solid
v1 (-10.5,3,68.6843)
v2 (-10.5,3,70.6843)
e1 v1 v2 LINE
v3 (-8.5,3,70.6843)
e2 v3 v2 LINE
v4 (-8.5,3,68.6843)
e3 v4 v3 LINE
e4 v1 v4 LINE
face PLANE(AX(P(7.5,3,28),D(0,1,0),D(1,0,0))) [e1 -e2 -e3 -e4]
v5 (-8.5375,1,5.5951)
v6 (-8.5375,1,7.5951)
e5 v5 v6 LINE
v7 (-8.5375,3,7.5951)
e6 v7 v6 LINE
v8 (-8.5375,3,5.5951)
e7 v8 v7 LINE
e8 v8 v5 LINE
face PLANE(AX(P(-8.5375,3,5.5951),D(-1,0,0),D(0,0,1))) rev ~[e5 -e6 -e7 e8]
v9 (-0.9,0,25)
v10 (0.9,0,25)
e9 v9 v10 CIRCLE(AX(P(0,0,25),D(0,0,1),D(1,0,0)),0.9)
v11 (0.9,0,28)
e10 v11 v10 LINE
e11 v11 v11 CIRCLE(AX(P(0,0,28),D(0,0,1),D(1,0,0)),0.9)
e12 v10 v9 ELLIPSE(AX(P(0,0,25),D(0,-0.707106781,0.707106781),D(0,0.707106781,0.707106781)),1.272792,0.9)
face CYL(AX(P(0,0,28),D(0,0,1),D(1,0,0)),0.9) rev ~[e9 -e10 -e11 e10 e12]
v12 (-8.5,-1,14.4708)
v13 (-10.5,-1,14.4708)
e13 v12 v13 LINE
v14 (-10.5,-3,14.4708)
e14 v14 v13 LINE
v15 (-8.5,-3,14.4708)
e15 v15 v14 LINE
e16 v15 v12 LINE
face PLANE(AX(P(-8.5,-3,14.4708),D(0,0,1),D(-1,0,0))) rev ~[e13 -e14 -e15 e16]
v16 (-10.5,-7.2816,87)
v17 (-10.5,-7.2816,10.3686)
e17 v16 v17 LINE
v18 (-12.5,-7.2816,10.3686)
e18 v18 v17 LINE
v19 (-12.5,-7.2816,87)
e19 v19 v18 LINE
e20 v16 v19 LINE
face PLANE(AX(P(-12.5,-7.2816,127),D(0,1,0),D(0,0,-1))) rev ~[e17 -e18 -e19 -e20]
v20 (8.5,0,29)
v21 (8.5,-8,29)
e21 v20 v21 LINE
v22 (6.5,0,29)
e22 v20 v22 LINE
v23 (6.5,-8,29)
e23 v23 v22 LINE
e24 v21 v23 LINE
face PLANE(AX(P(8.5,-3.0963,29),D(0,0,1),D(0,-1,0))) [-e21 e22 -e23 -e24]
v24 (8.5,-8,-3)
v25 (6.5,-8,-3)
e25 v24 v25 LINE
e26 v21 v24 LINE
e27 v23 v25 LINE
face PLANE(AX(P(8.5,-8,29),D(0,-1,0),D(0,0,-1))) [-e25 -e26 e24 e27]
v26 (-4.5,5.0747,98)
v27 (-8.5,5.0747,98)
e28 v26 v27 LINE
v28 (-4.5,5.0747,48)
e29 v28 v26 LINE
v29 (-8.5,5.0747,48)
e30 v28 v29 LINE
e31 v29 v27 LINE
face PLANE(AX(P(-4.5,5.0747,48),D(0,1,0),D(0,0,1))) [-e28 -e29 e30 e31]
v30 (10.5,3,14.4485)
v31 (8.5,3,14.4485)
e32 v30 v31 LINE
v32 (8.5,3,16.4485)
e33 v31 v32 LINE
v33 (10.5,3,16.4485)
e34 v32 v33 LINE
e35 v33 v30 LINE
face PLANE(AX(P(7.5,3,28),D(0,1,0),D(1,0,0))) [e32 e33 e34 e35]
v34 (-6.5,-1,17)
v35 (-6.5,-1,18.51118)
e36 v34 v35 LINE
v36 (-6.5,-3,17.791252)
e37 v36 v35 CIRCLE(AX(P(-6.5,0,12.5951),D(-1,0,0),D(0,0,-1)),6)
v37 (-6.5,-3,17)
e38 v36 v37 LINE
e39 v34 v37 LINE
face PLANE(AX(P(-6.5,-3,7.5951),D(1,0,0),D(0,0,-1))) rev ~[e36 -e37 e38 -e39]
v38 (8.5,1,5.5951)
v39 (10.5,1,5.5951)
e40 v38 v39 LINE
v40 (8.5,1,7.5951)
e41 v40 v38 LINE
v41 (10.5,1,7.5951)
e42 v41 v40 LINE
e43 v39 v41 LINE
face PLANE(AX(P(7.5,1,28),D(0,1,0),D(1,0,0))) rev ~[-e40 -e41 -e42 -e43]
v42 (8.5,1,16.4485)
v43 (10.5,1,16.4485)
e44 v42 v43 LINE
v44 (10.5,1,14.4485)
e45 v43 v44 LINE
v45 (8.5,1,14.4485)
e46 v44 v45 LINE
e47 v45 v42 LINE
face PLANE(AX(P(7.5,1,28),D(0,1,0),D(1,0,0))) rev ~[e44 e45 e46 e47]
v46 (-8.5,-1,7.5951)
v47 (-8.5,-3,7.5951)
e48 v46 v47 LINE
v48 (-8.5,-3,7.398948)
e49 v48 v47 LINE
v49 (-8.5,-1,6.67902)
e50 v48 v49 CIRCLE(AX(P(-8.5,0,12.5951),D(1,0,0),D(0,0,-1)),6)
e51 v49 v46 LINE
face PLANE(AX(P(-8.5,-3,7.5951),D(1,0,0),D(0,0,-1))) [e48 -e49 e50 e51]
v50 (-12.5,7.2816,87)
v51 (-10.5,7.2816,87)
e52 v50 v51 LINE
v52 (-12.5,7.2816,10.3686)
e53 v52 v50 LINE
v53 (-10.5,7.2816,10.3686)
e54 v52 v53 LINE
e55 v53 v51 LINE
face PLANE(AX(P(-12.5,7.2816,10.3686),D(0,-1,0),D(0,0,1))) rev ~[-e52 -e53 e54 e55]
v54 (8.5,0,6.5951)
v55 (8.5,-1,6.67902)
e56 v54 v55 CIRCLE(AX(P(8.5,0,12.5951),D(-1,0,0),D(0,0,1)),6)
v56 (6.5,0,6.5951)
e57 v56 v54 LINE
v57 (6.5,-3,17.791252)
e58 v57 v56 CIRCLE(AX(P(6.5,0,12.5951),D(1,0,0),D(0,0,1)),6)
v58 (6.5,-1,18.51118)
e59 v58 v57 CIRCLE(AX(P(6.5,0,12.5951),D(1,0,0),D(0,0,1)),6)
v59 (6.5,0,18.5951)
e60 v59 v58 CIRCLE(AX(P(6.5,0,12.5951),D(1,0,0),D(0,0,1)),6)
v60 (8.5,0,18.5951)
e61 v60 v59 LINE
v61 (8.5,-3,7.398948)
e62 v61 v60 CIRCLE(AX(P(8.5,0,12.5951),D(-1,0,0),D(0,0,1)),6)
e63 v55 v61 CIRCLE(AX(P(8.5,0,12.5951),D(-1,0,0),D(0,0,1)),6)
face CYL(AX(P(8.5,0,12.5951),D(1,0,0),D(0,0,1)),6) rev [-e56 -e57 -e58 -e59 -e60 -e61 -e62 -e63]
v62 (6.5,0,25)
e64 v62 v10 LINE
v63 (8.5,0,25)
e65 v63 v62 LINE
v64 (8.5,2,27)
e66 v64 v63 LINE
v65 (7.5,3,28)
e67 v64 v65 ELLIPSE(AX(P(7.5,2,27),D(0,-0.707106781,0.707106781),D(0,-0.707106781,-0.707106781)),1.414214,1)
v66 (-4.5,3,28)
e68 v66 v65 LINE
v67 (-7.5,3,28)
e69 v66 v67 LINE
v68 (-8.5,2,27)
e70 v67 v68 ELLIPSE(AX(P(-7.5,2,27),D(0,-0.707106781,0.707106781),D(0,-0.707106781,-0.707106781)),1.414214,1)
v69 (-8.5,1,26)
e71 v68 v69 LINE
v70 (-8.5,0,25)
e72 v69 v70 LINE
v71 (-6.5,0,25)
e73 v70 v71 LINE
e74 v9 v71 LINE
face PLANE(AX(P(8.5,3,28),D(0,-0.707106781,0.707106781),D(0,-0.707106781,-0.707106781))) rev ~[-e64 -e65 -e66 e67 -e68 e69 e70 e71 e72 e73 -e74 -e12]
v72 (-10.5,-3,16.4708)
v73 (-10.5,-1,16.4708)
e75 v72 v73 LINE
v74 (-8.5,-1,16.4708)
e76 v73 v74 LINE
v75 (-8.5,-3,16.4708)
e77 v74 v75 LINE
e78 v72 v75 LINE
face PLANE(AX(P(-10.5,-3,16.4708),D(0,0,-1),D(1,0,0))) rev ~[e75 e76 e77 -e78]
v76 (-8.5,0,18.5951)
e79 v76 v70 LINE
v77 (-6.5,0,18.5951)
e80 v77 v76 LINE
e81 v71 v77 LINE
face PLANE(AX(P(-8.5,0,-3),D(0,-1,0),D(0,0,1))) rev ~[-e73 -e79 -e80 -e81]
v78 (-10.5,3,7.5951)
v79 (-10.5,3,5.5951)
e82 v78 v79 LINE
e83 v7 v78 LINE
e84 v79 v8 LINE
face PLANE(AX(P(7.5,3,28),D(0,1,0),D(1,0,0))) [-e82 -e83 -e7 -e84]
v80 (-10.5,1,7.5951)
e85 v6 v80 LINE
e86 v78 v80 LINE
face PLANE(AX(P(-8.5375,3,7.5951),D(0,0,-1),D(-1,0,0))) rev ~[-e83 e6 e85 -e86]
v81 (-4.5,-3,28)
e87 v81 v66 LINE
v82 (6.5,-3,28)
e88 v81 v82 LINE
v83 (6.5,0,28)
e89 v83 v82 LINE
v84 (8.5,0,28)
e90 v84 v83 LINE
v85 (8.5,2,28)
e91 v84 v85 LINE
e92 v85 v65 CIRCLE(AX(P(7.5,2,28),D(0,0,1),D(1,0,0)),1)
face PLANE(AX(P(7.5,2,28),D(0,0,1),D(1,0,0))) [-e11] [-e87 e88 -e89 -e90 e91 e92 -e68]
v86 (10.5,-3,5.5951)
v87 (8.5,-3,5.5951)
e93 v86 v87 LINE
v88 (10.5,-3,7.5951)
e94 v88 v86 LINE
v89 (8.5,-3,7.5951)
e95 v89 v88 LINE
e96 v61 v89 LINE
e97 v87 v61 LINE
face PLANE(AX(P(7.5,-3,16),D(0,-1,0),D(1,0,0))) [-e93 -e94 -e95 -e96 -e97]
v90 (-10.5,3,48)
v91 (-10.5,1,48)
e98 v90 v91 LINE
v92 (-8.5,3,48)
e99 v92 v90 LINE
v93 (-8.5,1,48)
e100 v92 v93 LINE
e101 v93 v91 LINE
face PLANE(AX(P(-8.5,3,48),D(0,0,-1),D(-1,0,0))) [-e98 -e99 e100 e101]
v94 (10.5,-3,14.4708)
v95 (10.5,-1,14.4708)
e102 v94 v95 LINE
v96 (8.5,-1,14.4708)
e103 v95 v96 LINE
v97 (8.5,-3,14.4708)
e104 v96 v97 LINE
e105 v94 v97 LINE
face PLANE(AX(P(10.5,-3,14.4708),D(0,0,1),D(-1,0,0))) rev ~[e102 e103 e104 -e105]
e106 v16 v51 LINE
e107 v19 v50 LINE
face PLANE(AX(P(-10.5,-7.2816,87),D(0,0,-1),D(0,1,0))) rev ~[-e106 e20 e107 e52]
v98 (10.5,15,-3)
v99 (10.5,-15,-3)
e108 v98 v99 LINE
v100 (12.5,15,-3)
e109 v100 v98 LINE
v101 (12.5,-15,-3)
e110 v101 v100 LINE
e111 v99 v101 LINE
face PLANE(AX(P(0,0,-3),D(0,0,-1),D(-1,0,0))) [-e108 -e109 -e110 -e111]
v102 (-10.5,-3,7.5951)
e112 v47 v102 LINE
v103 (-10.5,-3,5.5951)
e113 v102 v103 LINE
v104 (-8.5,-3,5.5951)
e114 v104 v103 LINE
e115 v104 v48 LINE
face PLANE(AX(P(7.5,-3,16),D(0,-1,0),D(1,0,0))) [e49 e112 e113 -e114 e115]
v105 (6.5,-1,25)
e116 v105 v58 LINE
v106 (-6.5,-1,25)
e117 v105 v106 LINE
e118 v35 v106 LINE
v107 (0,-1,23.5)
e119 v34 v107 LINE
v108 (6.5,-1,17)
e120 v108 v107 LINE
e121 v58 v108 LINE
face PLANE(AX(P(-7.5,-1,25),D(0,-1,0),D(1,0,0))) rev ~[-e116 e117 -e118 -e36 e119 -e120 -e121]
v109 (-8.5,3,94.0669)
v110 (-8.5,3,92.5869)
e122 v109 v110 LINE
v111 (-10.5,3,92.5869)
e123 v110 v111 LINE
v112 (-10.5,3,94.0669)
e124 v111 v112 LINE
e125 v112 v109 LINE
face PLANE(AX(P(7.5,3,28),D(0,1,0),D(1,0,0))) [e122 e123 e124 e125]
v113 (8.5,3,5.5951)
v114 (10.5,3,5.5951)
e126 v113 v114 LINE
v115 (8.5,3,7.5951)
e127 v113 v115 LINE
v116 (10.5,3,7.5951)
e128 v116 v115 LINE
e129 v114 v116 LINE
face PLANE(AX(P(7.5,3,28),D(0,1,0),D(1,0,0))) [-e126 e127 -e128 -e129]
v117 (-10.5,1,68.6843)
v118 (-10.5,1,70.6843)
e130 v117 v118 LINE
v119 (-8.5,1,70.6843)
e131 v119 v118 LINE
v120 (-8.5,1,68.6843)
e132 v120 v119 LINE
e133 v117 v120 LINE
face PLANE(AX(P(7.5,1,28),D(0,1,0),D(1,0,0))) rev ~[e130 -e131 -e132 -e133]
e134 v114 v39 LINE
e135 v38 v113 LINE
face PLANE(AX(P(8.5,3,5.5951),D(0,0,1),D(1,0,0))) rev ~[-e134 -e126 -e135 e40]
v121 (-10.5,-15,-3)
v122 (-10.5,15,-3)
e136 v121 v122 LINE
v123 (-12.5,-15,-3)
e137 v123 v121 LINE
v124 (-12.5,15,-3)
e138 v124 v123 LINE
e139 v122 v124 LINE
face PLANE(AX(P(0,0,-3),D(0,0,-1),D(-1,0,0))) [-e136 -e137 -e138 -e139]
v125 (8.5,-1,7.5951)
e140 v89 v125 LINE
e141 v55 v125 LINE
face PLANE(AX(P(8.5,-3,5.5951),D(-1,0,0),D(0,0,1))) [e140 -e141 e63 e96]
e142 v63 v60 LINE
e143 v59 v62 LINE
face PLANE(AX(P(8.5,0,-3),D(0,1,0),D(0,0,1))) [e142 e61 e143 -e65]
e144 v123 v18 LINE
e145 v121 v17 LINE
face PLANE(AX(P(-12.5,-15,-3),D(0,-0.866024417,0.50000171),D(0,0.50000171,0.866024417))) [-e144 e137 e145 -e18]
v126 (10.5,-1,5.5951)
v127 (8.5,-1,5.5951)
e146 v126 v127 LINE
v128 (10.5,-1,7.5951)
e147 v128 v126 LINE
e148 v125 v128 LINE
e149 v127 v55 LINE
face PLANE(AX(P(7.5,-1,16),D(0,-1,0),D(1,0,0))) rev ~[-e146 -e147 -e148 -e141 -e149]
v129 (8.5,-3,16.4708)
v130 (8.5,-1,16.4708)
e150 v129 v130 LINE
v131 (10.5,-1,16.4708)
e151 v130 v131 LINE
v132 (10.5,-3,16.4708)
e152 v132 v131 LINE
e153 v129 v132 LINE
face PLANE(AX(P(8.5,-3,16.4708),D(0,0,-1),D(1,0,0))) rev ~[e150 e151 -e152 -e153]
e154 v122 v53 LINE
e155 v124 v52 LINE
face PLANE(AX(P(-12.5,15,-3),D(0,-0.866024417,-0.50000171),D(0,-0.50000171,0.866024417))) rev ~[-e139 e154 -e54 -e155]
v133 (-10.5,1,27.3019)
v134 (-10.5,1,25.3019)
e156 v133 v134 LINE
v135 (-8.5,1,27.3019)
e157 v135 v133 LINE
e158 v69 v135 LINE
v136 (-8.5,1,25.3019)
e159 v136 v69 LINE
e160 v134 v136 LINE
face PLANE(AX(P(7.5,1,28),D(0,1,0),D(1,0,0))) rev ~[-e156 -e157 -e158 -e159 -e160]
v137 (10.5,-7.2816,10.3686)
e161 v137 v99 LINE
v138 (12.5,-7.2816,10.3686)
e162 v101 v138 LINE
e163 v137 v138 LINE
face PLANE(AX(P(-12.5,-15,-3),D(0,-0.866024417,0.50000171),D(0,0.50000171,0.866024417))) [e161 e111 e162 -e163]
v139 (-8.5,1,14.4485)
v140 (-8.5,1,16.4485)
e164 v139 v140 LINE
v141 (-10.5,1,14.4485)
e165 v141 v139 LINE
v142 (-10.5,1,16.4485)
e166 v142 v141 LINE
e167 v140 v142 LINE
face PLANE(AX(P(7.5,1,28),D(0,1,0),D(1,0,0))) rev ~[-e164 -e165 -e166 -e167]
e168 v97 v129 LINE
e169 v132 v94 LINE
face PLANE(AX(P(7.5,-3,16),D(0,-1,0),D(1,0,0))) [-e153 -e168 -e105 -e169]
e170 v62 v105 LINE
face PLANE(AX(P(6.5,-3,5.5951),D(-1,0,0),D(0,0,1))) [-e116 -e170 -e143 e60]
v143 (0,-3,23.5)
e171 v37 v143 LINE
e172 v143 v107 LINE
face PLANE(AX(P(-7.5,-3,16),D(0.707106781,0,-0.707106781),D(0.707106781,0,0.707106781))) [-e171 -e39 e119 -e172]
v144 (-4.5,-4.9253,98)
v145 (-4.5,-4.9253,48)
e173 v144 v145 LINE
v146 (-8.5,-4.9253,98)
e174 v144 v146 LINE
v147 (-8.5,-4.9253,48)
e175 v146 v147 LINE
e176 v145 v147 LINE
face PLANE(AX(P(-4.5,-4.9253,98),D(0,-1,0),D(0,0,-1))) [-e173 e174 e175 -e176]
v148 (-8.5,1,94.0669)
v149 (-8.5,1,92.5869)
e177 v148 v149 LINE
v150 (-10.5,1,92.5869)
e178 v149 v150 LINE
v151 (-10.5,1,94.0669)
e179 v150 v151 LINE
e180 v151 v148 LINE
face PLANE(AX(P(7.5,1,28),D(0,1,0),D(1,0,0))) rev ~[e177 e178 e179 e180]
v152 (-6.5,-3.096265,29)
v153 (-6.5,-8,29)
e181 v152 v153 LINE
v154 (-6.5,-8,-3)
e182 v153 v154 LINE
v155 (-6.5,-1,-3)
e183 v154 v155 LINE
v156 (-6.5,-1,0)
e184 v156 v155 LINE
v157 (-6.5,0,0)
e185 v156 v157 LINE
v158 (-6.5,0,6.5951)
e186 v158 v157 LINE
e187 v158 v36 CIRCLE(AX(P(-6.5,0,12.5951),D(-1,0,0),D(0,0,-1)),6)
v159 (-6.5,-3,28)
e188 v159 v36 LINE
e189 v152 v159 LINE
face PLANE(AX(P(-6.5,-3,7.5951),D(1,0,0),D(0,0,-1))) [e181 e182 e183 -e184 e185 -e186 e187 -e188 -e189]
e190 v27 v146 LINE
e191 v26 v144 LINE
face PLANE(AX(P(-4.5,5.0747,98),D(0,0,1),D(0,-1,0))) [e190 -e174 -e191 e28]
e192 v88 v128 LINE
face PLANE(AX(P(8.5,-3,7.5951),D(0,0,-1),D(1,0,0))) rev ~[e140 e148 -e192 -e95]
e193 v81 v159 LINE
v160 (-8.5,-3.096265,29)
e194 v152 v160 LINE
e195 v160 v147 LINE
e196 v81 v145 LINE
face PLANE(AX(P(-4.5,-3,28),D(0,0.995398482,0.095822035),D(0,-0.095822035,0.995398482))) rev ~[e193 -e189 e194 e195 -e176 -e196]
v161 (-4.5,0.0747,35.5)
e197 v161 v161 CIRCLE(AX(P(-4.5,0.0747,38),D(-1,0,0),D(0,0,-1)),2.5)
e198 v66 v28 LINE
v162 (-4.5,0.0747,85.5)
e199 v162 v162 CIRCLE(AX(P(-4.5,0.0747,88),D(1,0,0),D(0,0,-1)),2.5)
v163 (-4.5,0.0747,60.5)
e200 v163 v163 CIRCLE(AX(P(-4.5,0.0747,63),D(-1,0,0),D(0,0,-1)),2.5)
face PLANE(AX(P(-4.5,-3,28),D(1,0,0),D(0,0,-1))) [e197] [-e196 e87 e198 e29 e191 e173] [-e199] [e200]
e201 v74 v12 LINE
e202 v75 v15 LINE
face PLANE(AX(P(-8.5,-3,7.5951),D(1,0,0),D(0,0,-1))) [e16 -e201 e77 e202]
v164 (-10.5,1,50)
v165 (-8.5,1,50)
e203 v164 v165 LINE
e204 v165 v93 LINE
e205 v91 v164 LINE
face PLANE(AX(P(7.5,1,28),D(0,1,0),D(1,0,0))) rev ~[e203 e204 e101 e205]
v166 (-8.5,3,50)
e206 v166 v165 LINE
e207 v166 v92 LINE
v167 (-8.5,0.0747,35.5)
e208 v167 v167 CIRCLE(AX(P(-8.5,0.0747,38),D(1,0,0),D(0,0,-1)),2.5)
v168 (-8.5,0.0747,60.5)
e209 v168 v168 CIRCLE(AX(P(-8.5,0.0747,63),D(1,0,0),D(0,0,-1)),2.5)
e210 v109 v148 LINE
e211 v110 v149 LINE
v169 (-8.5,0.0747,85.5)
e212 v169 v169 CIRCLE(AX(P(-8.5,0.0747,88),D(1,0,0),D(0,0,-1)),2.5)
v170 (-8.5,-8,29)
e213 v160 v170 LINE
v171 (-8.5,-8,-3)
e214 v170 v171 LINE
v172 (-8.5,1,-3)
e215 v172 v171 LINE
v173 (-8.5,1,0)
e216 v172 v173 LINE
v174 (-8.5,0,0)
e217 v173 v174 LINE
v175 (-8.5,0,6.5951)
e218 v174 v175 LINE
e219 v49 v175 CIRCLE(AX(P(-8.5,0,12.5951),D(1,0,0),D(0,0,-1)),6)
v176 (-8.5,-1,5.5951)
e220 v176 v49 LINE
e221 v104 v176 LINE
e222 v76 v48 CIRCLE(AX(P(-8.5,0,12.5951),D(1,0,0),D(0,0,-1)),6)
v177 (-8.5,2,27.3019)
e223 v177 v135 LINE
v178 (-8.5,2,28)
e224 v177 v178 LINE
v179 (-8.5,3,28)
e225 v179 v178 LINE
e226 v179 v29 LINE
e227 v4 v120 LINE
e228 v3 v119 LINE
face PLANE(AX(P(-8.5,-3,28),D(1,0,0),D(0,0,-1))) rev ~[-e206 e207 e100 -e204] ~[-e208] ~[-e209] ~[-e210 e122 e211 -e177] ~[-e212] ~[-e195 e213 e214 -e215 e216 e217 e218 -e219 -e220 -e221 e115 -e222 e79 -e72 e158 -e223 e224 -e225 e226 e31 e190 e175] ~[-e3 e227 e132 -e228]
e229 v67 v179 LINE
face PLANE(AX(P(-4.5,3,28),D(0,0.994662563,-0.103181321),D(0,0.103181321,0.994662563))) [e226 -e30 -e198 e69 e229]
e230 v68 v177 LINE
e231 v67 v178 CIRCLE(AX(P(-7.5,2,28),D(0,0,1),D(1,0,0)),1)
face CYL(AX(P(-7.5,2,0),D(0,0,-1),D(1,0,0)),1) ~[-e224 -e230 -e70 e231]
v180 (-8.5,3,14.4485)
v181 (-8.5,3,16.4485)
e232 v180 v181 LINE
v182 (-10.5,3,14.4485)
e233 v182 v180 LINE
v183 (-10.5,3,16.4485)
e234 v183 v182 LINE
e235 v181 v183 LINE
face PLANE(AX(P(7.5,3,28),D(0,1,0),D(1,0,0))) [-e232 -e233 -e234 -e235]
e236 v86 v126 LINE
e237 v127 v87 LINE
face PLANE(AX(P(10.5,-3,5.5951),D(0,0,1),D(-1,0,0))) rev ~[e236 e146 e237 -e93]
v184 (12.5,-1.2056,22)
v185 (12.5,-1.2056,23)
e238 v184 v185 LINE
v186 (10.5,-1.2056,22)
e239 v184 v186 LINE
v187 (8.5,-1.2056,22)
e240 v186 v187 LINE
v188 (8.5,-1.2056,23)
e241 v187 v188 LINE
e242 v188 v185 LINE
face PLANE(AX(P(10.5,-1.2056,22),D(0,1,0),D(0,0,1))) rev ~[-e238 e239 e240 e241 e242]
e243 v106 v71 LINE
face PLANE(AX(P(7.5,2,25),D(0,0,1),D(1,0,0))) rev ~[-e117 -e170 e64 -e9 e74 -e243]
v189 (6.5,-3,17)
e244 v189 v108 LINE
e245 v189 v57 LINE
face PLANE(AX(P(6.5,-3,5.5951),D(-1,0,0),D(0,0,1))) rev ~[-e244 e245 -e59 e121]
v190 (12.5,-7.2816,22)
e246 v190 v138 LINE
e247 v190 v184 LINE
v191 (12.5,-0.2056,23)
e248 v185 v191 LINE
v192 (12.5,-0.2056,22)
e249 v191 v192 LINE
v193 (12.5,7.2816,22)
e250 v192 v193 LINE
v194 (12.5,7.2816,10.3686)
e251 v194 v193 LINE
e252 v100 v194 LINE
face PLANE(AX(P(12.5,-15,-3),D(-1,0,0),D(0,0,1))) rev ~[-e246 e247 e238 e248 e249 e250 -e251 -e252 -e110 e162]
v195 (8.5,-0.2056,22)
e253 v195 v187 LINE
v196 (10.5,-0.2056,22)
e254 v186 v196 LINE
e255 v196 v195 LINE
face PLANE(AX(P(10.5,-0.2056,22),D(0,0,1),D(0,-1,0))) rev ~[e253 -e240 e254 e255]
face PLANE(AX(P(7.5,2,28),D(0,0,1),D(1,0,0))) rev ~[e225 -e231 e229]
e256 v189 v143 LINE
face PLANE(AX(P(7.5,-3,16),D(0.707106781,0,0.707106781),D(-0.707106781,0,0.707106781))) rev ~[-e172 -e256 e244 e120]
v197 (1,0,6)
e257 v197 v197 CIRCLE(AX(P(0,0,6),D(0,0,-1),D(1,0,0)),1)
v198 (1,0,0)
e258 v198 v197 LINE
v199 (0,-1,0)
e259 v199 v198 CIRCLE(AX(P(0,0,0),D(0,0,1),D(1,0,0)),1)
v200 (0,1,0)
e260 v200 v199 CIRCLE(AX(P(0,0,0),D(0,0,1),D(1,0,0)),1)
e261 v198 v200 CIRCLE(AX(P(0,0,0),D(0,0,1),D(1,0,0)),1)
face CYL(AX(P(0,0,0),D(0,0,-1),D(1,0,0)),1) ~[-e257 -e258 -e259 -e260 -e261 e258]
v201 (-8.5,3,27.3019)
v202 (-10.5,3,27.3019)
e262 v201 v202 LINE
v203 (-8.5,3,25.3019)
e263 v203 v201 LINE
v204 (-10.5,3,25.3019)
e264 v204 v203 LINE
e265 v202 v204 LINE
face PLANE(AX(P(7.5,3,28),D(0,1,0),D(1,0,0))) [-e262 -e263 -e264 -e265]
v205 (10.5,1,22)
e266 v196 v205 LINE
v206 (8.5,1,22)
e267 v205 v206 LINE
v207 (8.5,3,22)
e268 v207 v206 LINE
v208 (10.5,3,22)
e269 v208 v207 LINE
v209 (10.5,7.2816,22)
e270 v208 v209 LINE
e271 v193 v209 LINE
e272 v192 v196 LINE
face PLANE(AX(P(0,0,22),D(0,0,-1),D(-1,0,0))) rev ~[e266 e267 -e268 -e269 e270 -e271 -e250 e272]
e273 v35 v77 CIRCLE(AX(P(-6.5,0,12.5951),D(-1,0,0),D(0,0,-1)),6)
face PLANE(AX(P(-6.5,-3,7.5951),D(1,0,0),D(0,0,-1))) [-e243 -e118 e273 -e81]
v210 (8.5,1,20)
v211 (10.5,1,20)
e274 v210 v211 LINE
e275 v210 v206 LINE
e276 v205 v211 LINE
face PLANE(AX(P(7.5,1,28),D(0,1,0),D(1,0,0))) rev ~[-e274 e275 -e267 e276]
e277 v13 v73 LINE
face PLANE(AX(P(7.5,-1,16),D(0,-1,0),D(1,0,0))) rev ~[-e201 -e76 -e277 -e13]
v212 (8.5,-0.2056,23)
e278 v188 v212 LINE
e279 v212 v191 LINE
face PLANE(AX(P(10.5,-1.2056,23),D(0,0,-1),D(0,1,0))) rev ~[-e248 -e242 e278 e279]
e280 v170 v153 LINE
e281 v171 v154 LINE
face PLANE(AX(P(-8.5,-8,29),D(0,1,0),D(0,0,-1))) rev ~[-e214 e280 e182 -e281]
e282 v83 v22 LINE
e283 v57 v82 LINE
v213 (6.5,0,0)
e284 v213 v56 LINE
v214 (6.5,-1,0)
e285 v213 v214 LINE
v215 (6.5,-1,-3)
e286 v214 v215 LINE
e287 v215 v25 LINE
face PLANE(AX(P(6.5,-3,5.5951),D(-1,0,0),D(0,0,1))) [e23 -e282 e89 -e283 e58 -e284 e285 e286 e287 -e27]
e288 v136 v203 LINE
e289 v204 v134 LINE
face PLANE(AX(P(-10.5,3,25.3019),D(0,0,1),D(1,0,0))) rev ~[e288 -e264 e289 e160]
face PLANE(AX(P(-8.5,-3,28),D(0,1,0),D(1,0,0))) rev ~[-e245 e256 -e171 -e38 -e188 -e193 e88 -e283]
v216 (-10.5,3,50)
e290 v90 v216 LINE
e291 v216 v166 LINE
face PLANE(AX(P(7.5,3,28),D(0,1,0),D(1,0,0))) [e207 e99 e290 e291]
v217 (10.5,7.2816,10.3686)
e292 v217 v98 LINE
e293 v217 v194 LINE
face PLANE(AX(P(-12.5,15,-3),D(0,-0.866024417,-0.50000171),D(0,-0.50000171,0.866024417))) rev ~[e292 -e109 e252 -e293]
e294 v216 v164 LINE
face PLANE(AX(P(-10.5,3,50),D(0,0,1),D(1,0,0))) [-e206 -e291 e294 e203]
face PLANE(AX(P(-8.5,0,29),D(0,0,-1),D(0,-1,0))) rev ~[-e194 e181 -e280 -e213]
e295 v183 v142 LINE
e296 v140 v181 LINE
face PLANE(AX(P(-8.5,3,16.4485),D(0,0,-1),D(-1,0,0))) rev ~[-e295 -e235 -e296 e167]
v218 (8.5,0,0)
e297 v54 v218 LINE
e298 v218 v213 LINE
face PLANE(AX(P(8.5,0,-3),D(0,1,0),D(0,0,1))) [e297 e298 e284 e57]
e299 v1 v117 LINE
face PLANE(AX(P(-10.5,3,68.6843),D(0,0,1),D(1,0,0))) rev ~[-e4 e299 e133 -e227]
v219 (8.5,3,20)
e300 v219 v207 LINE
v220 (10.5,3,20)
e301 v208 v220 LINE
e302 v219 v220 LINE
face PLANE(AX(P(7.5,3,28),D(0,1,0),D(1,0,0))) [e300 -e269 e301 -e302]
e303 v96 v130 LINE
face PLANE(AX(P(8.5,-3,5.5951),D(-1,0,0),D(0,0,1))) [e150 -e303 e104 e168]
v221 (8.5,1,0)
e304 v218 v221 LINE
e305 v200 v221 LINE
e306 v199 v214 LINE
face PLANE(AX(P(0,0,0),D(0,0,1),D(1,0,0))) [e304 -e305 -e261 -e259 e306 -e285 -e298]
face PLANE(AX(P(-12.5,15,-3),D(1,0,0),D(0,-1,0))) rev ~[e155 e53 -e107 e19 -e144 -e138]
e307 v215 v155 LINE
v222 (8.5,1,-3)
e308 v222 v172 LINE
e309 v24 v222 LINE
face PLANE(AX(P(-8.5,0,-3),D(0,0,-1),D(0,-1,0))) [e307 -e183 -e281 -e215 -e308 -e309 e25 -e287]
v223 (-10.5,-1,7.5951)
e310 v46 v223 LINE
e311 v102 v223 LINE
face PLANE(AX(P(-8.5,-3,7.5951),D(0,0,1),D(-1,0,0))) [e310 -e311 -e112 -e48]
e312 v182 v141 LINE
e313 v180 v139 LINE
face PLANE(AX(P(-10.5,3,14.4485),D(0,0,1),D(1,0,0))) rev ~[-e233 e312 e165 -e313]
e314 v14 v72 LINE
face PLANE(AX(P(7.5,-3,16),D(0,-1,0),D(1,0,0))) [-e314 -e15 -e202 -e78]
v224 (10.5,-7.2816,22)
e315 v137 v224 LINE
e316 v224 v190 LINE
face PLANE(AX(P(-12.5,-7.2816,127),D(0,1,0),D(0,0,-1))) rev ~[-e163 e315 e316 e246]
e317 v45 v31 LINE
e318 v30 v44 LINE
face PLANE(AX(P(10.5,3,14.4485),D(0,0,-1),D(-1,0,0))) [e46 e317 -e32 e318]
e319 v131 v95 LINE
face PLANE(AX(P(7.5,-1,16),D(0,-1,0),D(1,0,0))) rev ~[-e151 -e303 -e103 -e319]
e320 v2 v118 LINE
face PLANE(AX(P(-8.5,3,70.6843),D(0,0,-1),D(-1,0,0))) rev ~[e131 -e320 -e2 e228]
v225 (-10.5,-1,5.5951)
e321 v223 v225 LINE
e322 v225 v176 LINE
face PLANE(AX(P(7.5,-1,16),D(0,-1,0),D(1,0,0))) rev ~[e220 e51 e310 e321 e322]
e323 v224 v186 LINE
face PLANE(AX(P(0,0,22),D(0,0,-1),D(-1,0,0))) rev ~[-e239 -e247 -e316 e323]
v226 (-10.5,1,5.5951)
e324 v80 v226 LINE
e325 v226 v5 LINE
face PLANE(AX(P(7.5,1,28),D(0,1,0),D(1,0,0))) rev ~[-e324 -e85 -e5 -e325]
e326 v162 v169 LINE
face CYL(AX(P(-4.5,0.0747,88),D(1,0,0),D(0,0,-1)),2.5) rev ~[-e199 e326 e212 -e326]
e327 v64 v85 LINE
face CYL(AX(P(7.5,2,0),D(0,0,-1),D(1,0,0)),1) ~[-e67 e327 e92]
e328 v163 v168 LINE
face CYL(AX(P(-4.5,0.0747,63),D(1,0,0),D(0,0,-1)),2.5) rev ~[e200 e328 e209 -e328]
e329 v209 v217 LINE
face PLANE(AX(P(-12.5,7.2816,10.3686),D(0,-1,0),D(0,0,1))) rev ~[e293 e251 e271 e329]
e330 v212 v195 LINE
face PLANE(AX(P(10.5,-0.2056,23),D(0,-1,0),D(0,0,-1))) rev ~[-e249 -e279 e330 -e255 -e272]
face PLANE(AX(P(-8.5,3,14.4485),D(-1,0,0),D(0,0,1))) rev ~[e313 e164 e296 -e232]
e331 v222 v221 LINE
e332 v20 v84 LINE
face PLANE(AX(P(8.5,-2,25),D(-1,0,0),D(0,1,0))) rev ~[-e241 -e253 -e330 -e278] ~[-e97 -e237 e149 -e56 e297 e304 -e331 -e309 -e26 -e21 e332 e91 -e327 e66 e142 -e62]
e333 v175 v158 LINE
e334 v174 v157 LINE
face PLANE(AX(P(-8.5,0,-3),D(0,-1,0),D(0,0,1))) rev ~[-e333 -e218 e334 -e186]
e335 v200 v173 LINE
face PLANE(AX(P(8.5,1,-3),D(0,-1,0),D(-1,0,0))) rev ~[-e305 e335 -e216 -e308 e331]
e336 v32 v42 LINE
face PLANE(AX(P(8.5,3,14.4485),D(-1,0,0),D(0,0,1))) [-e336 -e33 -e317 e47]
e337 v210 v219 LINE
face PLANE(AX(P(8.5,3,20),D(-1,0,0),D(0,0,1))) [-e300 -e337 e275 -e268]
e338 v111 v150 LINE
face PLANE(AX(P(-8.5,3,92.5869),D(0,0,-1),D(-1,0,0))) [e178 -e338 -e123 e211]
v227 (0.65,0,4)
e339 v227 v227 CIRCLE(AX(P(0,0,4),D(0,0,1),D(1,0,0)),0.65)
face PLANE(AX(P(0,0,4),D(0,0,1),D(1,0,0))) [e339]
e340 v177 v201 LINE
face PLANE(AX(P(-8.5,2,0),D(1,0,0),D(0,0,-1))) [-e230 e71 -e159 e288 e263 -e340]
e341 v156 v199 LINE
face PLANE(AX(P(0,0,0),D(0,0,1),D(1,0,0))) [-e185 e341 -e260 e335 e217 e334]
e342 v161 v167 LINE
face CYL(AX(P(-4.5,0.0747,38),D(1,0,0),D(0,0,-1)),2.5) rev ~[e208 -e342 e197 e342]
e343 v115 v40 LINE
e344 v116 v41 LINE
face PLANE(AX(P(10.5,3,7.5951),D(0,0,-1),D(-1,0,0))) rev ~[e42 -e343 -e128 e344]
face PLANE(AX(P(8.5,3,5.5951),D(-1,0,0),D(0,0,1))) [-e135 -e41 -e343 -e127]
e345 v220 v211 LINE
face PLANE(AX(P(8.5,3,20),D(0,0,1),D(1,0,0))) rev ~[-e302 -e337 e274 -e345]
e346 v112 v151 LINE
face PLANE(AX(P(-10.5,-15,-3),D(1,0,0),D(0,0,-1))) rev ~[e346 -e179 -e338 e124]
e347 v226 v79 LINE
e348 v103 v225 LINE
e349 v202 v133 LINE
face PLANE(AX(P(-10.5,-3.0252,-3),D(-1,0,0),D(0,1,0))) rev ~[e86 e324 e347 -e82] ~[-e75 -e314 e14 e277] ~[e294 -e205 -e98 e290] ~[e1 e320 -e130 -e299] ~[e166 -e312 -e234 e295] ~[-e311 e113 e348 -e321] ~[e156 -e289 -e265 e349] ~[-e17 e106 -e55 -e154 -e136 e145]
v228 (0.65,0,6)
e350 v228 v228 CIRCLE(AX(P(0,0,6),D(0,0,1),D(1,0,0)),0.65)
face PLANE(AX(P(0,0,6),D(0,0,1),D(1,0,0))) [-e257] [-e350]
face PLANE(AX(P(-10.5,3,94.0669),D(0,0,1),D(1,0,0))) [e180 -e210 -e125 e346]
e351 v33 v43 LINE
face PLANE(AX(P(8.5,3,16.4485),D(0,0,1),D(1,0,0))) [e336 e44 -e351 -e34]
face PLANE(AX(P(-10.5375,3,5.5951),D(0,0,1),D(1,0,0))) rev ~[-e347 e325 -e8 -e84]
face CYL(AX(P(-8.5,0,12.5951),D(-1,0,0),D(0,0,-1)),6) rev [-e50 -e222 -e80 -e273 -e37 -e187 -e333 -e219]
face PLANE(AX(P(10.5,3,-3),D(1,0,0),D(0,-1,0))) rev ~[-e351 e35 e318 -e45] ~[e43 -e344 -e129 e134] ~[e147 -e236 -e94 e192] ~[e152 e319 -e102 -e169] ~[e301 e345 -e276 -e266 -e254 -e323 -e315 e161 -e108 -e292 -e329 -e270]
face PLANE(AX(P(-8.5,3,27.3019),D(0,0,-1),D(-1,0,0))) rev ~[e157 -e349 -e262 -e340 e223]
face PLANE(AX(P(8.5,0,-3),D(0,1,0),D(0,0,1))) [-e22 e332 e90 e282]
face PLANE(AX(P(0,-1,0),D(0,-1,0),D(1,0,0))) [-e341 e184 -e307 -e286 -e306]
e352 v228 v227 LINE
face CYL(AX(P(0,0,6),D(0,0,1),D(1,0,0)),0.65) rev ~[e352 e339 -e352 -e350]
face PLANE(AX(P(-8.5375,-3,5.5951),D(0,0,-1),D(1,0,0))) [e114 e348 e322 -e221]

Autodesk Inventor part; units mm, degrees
ref_plane "YZ Plane" through (0, 0, 0) normal (1, 0, 0) x (0, 1, 0)
ref_plane "XZ Plane" through (0, 0, 0) normal (0, 1, 0) x (-1, 0, 0)
ref_plane "XY Plane" through (0, 0, 0) normal (0, 0, 1) x (1, 0, 0)
sketch "Sketch1" plane through (0, 0, 0) normal (0, 0, 1) x (1, 0, 0)
  line L0 (0, 0) -> (8.5, 0)
  line L1 (8.5, 0) -> (8.5, 1)
  line L2 (8.5, 1) -> (-8.5, 1)
  line L3 (-8.5, 1) -> (-8.5, -1)
  line L4 (-8.5, -1) -> (8.5, -1)
  line L5 (8.5, -1) -> (8.5, 1)
  circle A0 centre (0, 0) radius 1
  line L6 (-8.5, 0) -> (-7.5, 0)
  line L7 (8.5, 0) -> (7.5, 0)
  circle A1 centre (-7.5, 0) radius 1
  circle A2 centre (7.5, 0) radius 1
  line L8 (-7.5, 0) -> (-7.5, 2)
  line L9 (-7.5, 0) -> (-7.5, -2)
  line L10 (7.5, 0) -> (7.5, 2)
  line L11 (7.5, 0) -> (7.5, -2)
  line L12 (8.5, 2) -> (6.5, 2)
  line L13 (6.5, 2) -> (6.5, -2)
  line L14 (6.5, -2) -> (8.5, -2)
  line L15 (8.5, -2) -> (8.5, 2)
  line L16 (-8.5, 2) -> (-6.5, 2)
  line L17 (-6.5, 2) -> (-6.5, -2)
  line L18 (-6.5, -2) -> (-8.5, -2)
  line L19 (-8.5, -2) -> (-8.5, 2)
  circle A3 centre (-7.5, 2) radius 1
  circle A4 centre (-7.5, -2) radius 1
  circle A5 centre (7.5, -2) radius 1
  circle A6 centre (7.5, 2) radius 1
  dimension "d3" = 8.5
  dimension "d4" = 1
  dimension "d5" = 17
  dimension "d6" = 2
  dimension "d7" = 2
  dimension "d8" = 1
  dimension "d9" = 1
  dimension "d10" = 2
  dimension "d11" = 2
  dimension "d12" = 2
  dimension "d13" = 2
  dimension "d14" = 2
  dimension "d15" = 2
  dimension "d16" = 2
  dimension "d17" = 2
extrude "Extrusion1" add sketch "Sketch1" along normal blind 25 contours A6 L12 L10 | L10 L12 A6 | A5 L14 L11 | L11 L14 A5 | L12 A6 | L14 A5 | A3 L16 L8 | L8 L16 A3 | L16 A3 | A4 L18 L9 | L9 L18 A4 | A4 L18
extrude "Extrusion2" add sketch "Sketch1" against normal blind 3
extrude "Extrusion3" add sketch "Sketch1" along normal blind 6 contours A0
sketch "Sketch2" plane through (0, 0, 6) normal (0, 0, 1) x (1, 0, 0)
  circle A0 centre (0, 0) radius 0.65
  dimension "d25" = 1.3
extrude "Extrusion4" cut sketch "Sketch2" against normal blind 2
sketch "Sketch3" plane through (7.5, 2, 25) normal (0, 0, 1) x (1, 0, 0)
  circle A0 centre (0, 0) radius 1 projected
  arc A1 (-16, -4) -> (-14, -4) centre (-15, -4) ccw projected
  line L0 (0, 1) -> (-15, 1)
  line L1 (-15, 1) -> (-15, -5)
  line L2 (-15, -5) -> (0, -5)
  line L3 (0, -5) -> (0, 1)
  line L4 (1, -4) -> (1, 0) projected
  arc A2 (-16, 0) -> (-14, 0) centre (-15, 0) ccw projected
  line L5 (1, -4) -> (-16, -4)
  line L6 (-16, -4) -> (-16, 0)
  line L7 (-16, 0) -> (1, 0)
  line L8 (1, 0) -> (1, -4)
  circle A3 centre (0, -4) radius 1 projected
  circle A4 centre (0, -4) radius 1
  circle A5 centre (0, 0) radius 1
  circle A6 centre (-15, 0) radius 1 projected
  circle A7 centre (-15, 0) radius 1
  circle A8 centre (-15, -4) radius 1
  point P0 (-7.5, -2)
sketch "Sketch4" plane through (-7.5, 2, 25) normal (0, 0, 1) x (1, 0, 0)
  point P0 (7.5, -2)
extrude "Extrusion5" add sketch "Sketch3" along normal blind 3
sketch "Sketch5" plane through (-7.5, -3, 25) normal (0, -1, 0) x (1, 0, 0)
  line L0 (15, 0) -> (15, 3) projected
  line L1 (15, 3) -> (15, -9)
  line L2 (15, -9) -> (6, 0)
  line L3 (15, 0) -> (0, 0) projected
  line L4 (6, 0) -> (15, 3)
  line L5 (0, 3) -> (0, -9)
  line L6 (0, -9) -> (9, 0)
  line L7 (15, 3) -> (0, 3) projected
  line L8 (9, 0) -> (0, 3)
  point P0 (7.5, -25)
  dimension "d30" = 12
  dimension "d31" = 45
  dimension "d32" = 45
extrude "Extrusion6" add sketch "Sketch5" against normal blind 2 contours L1 L2 L6 L3 | L6 L2 L3 | L3 L4 L8 | L4 L3 L5 L8 | L6 L5 L3 L2
sketch "Sketch6" plane through (-7.5, 3, 25) normal (0, 1, 0) x (1, 0, 0)
  line L0 (-1, -3) -> (0, -3) projected
  line L1 (0, -3) -> (0, 9)
  line L2 (-1, 28) -> (-1, -3) projected
  line L3 (0, -3) -> (12, -3) construction
  line L4 (0, 9) -> (9, 0)
  line L5 (15, 0) -> (0, 0) projected
  line L6 (0, -3) -> (15, -3) projected
  line L7 (9, 0) -> (0, -3)
  line L8 (15, 9) -> (15, 0) projected
  line L9 (15, -3) -> (15, 9)
  line L10 (15, 9) -> (3, -3)
  point P0 (7.5, 25)
  dimension "d35" = 12
  dimension "d36" = 90
  dimension "d37" = 45
extrude "Extrusion7" add sketch "Sketch6" against normal blind 2 contours L1 L4 L10 L5 | L10 L7 L5 L9 L6 | L10 L5 L7 | L10 L4 L5 | L4 L10 L8 L5
sketch "Sketch7" plane through (7.5, 2, 28) normal (0, 0, 1) x (1, 0, 0)
  circle A0 centre (-7.5, -2) radius 0.65 projected
  circle A1 centre (-7.5, -2) radius 0.9
  line L0 (0, 1) -> (-15, 1) projected
  line L1 (-16, -5) -> (-12, -5)
  line L2 (-12, -5) -> (-12, 1)
  line L3 (-12, 1) -> (-16, 1)
  line L4 (-16, 1) -> (-16, -5)
  dimension "d40" = 1.8
  dimension "d41" = 4
extrude "Extrusion8" cut sketch "Sketch7" against normal blind 10 contours A0 | A1
extrude "Extrusion9" add sketch "Sketch7" along normal blind 60 contours L2 L1 L4 L3 L0
sketch "Sketch10" plane through (0, 0, -3) normal (0, 0, -1) x (-1, 0, 0)
  line L0 (8.5, -3.0252) -> (10.5, -3.0252)
  line L1 (10.5, -3.0252) -> (10.5, 2.9748)
  line L2 (10.5, 2.9748) -> (8.5, 2.9748)
  line L3 (8.5, 2.9748) -> (8.5, -3.0252)
  line L4 (-8.5, 3) -> (-10.5, 3)
  line L5 (-10.5, 3) -> (-10.5, -3)
  line L6 (-10.5, -3) -> (-8.5, -3)
  line L7 (-8.5, -3) -> (-8.5, 3)
  line L8 (10.5, 15) -> (12.5, 15)
  line L9 (12.5, 15) -> (12.5, -15)
  line L10 (12.5, -15) -> (10.5, -15)
  line L11 (10.5, -15) -> (10.5, 15)
  line L12 (-10.5, -15) -> (-12.5, -15)
  line L13 (-12.5, -15) -> (-12.5, 15)
  line L14 (-12.5, 15) -> (-10.5, 15)
  line L15 (-10.5, 15) -> (-10.5, -15)
  point P0 (0, 0)
  dimension "d62" = 2
  dimension "d63" = 6
  dimension "d64" = 2
  dimension "d65" = 6
  dimension "d66" = 2
  dimension "d67" = 30
  dimension "d68" = 2
  dimension "d69" = 30
extrude "Extrusion12" add sketch "Sketch10" against normal blind 25 contours L5 L15 L12 L13 L14
extrude "Extrusion13" add sketch "Sketch10" against normal blind 130 contours L1 L11 L8 L9 L10
sketch "Sketch11" plane through (-12.5, -15, -3) normal (-1, 0, 0) x (0, 0, 1)
  point P0 (3, 15)
sketch "Sketch12" plane through (-12.5, -15, -3) normal (-1, 0, 0) x (0, 0, 1)
  line L0 (0, 30) -> (0, 0) projected
  line L1 (0, 30) -> (13.3686, 22.2816)
  line L2 (0, 30) -> (15.4368, 30) construction
  line L3 (0, 0) -> (130, 0) projected
  line L4 (0, 0) -> (13.3686, 7.7184)
  line L5 (0, 0) -> (15.4368, 0) construction
  line L6 (13.3686, 7.7184) -> (13.3686, 22.2816)
  line L7 (13.3686, 22.2816) -> (130, 22.2816)
  line L8 (130, 30) -> (130, 0) projected
  line L9 (130, 7.7184) -> (13.3686, 7.7184)
  line L10 (0, 0) -> (130, 0)
  line L11 (130, 7.7184) -> (130, 22.2816)
  line L12 (130, 30) -> (0, 30)
  point P0 (3, 15)
  dimension "d74" = 30
  dimension "d75" = 30
extrude "Extrusion14" cut sketch "Sketch12" against normal blind 130 contours L12 L8 L7 L1 | L4 L9 L8 L3
sketch "Sketch13" plane through (-12.5, -15, -3) normal (-1, 0, 0) x (0, 0, 1)
  line L0 (0, 30) -> (0, 0) projected
  line L1 (0, 15) -> (130, 15)
  line L2 (130, 22.2816) -> (130, 7.7184) projected
  circle A0 centre (40, 15) radius 1
  circle A1 centre (60, 15) radius 1
  circle A2 centre (80, 15) radius 1
  circle A3 centre (100, 15) radius 1
  circle A4 centre (115.7268, 15) radius 1
  point P0 (3, 15)
  dimension "d79" = 2
  dimension "d80" = 2
  dimension "d81" = 2
  dimension "d82" = 2
  dimension "d83" = 2
sketch "Sketch18" plane through (-4.5, -3, 28) normal (1, 0, 0) x (0, 0, -1)
  line L0 (-20, 8.0747) -> (-70, 8.0747)
  line L1 (-70, 8.0747) -> (-70, -1.9253)
  line L2 (-70, -1.9253) -> (-20, -1.9253)
  line L3 (-20, -1.9253) -> (-20, 8.0747)
  point P0 (28, 3)
  dimension "d106" = 50
  dimension "d107" = 10
extrude "Extrusion21" add sketch "Sketch18" against normal blind 4
sketch "Sketch19" plane through (-4.5, -3, 28) normal (1, 0, 0) x (0, 0, -1)
  line L0 (-70, 8.0747) -> (-20, 8.0747) projected
  line L1 (0, 6) -> (-20, 8.0747)
  line L2 (-20, 6) -> (-20, 8.0747) projected
  line L3 (-20, 8.0747) -> (-20, 6)
  line L4 (0, 6) -> (-20, 6) projected
  line L5 (-20, 6) -> (0, 6)
  line L6 (0, 0) -> (-20, 0) projected
  line L7 (-20, -1.9253) -> (-20, 0) projected
  line L8 (0, 0) -> (-20, -1.9253)
  line L9 (-20, -1.9253) -> (-20, 0)
  line L10 (0, 1) -> (0, 0) projected
  line L11 (-20, 0) -> (0, 0)
  point P0 (28, 3)
extrude "Extrusion22" add sketch "Sketch19" against normal blind 4
sketch "Sketch20" plane through (-4.5, -4.9253, 98) normal (1, 0, 0) x (0, 0, -1)
  circle A0 centre (60, 5) radius 2.5
  line L0 (60, 5) -> (35, 5)
  circle A1 centre (35, 5) radius 2.5
  line L1 (35, 5) -> (10, 5)
  circle A2 centre (10, 5) radius 2.5
  point P0 (98, 4.9253)
  dimension "d112" = 5
  dimension "d113" = 25
  dimension "d114" = 5
  dimension "d115" = 25
  dimension "d116" = 5
extrude "Extrusion23" cut sketch "Sketch20" against normal blind 4
sketch "Sketch21" plane through (7.5, 3, 28) normal (0, 1, 0) x (1, 0, 0)
  line L0 (1, 31) -> (1, 0) projected
  line L1 (1, 22.4049) -> (3, 22.4049)
  line L2 (3, 22.4049) -> (3, 20.4049)
  line L3 (3, 20.4049) -> (1, 20.4049)
  line L4 (1, 20.4049) -> (1, 22.4049)
  line L5 (-16.0375, 20.4049) -> (-18.0375, 20.4049)
  line L6 (-18.0375, 20.4049) -> (-18.0375, 22.4049)
  line L7 (-18.0375, 22.4049) -> (-16.0375, 22.4049)
  line L8 (-16.0375, 22.4049) -> (-16.0375, 20.4049)
  line L9 (-16, 31) -> (-16, 0) projected
  line L10 (-16, 11.5515) -> (-18, 11.5515)
  line L11 (-18, 11.5515) -> (-18, 13.5515)
  line L12 (-18, 13.5515) -> (-16, 13.5515)
  line L13 (-16, 13.5515) -> (-16, 11.5515)
  line L14 (1, 11.5515) -> (3, 11.5515)
  line L15 (3, 11.5515) -> (3, 13.5515)
  line L16 (3, 13.5515) -> (1, 13.5515)
  line L17 (1, 13.5515) -> (1, 11.5515)
  line L18 (3, 6) -> (3, 17.6314) projected
  line L19 (3, 6) -> (1, 6)
  line L20 (1, 6) -> (1, 8)
  line L21 (1, 8) -> (3, 8)
  line L22 (3, 8) -> (3, 6)
  line L23 (-16, 0.6981) -> (-18, 0.6981)
  line L24 (-18, 0.6981) -> (-18, 2.6981)
  line L25 (-18, 2.6981) -> (-16, 2.6981)
  line L26 (-16, 2.6981) -> (-16, 0.6981)
  line L27 (-16, -20) -> (-16, 0) projected
  line L28 (-16, -20) -> (-18, -20)
  line L29 (-18, -20) -> (-18, -22)
  line L30 (-18, -22) -> (-16, -22)
  line L31 (-16, -22) -> (-16, -20)
  line L32 (-18, 17.6314) -> (-18, -99) projected
  line L33 (-18, -40.6843) -> (-16, -40.6843)
  line L34 (-16, -40.6843) -> (-16, -42.6843)
  line L35 (-16, -42.6843) -> (-18, -42.6843)
  line L36 (-18, -42.6843) -> (-18, -40.6843)
  line L37 (-16, -70) -> (-16, -20) projected
  line L38 (-16, -64.5869) -> (-18, -64.5869)
  line L39 (-18, -64.5869) -> (-18, -66.0669)
  line L40 (-18, -66.0669) -> (-16, -66.0669)
  line L41 (-16, -66.0669) -> (-16, -64.5869)
  dimension "d131" = 2
  dimension "d132" = 2
  dimension "d133" = 2
  dimension "d134" = 2
  dimension "d135" = 2
  dimension "d136" = 2
  dimension "d137" = 2
  dimension "d138" = 2
  dimension "d139" = 2
  dimension "d140" = 2
  dimension "d141" = 2
  dimension "d142" = 2
  dimension "d143" = 2
  dimension "d144" = 2
  dimension "d145" = 2
  dimension "d146" = 2
extrude "Extrusion24" add sketch "Sketch21" against normal blind 2 contours L1 L2 L3 L0 | L16 L15 L14 L0 | L21 L18 L19 L0 | L5 L6 L7 L8 | L9 L10 L11 L12 | L9 L23 L24 L25 | L31 L30 L29 L28 | L34 L35 L32 L33 | L37 L40 L32 L38
sketch "Sketch22" plane through (7.5, -3, 16) normal (0, -1, 0) x (1, 0, 0)
  line L0 (-18, -10.4049) -> (-16.0375, -10.4049) projected
  line L1 (-18, -10.4049) -> (-16, -10.4049)
  line L2 (-16, -10.4049) -> (-16, -8.4049)
  line L3 (-16, -8.4049) -> (-18, -8.4049)
  line L4 (-18, -8.4049) -> (-18, -10.4049)
  line L5 (3, -5.6314) -> (3, -19) projected
  line L6 (3, -10.4049) -> (1, -10.4049)
  line L7 (1, -10.4049) -> (1, -8.4049)
  line L8 (1, -8.4049) -> (3, -8.4049)
  line L9 (3, -8.4049) -> (3, -10.4049)
  line L10 (3, 6) -> (3, -5.6314) projected
  line L11 (3, -1.5292) -> (1, -1.5292)
  line L12 (1, -1.5292) -> (1, 0.4708)
  line L13 (1, 0.4708) -> (3, 0.4708)
  line L14 (3, 0.4708) -> (3, -1.5292)
  line L15 (-18, 0.4708) -> (-16, 0.4708)
  line L16 (-16, 0.4708) -> (-16, -1.5292)
  line L17 (-16, -1.5292) -> (-18, -1.5292)
  line L18 (-18, -1.5292) -> (-18, 0.4708)
  point P0 (-7.5, -16)
  dimension "d149" = 2
  dimension "d150" = 2
  dimension "d151" = 2
  dimension "d152" = 2
  dimension "d153" = 2
  dimension "d154" = 2
  dimension "d155" = 2
  dimension "d156" = 2
extrude "Extrusion25" add sketch "Sketch22" against normal blind 2
sketch "Sketch23" plane through (-10.5, -15, -3) normal (1, 0, 0) x (0, 0, -1)
  line L0 (-130, 7.7184) -> (-130, 22.2816) projected
  line L1 (-130, 7.7184) -> (-90, 7.7184)
  line L2 (-90, 7.7184) -> (-90, 22.7184)
  line L3 (-90, 22.7184) -> (-130, 22.7184)
  line L4 (-130, 22.7184) -> (-130, 7.7184)
  point P0 (-3, 15)
  dimension "d159" = 40
  dimension "d160" = 15
extrude "Extrusion26" cut sketch "Sketch23" against normal blind 5
sketch "Sketch24" plane through (-8.5, -3, 16.4708) normal (1, 0, 0) x (0, 0, -1)
  point P0 (16.4708, 3)
sketch "Sketch25" plane through (-8.5, -3, 7.5951) normal (1, 0, 0) x (0, 0, -1)
  line L0 (10.5951, 18) -> (10.5951, -12) projected
  line L1 (10.5951, 3) -> (-21.4049, 3)
  line L2 (-21.4049, 3) -> (-21.4049, -5)
  line L3 (-21.4049, -5) -> (10.5951, -5)
  line L4 (10.5951, -5) -> (10.5951, 3)
  circle A0 centre (-5, 3) radius 6
  point P0 (7.5951, 3)
  dimension "d163" = 32
  dimension "d164" = 8
  dimension "d165" = 12
extrude "Extrusion27" add sketch "Sketch25" along normal blind 2 contours L0 L3 L2 L1 A0 | A0 L1 picked at (-6.668, 0.2657)
extrude "Extrusion28" cut sketch "Sketch25" along normal blind 2 contours A0 L1 | L1 A0
sketch "Sketch26" plane through (8.5, -3, 5.5951) normal (-1, 0, 0) x (0, 0, 1)
  line L0 (-8.5951, -5) -> (-8.5951, 5) projected
  line L1 (23.4049, -0.0963) -> (23.4049, -5) projected
  line L2 (-8.5951, 3) -> (23.4049, 3)
  line L3 (23.4049, 3) -> (23.4049, -5)
  line L4 (23.4049, -5) -> (-8.5951, -5)
  line L5 (-8.5951, -5) -> (-8.5951, 3)
  circle A0 centre (7, 3) radius 6
  point P0 (-5.5951, 3)
  dimension "d170" = 32
  dimension "d171" = 12
extrude "Extrusion29" add sketch "Sketch26" along normal blind 2 contours L0 L2 A0 L3 L1 L4 | L2 A0 picked at (5.8639, 1.354)
extrude "Extrusion30" cut sketch "Sketch26" along normal blind 2 contours A0 L2 | L2 A0
sketch "Sketch27" plane through (8.5, 2, 0) normal (1, 0, 0) x (0, 0, -1)
  line L0 (-28, -2) -> (-28, 0) projected
  line L1 (-28, -2) -> (-12, -2)
  line L2 (-12, -2) -> (-12, 1)
  line L3 (-12, 1) -> (-28, 1)
  line L4 (-28, 1) -> (-28, -2)
  line L5 (-18.5951, -2) -> (-25, -2) projected
  line L6 (-28, 1) -> (-25, -2)
  line L7 (-25, -2) -> (-12, -2)
  point P0 (0, -2)
  dimension "d176" = 16
extrude "Extrusion31" cut sketch "Sketch27" against normal blind 17 contours L6 L3 L2 L1
sketch "Sketch28" plane through (0, 0, -3) normal (0, 0, -1) x (-1, 0, 0)
  line L0 (-8.5, 0) -> (-8.5, 2) projected
  line L1 (7.5, 3) -> (8.5, 3) projected
  line L2 (-8.5, 1) -> (8.5, 1)
  line L3 (8.5, 1) -> (8.5, 3)
  line L4 (8.5, 3) -> (-8.5, 3)
  line L5 (-8.5, 3) -> (-8.5, 1)
  point P0 (0, 0)
extrude "Extrusion32" cut sketch "Sketch28" against normal blind 17
sketch "Sketch29" plane through (10.5, -15, -3) normal (-1, 0, 0) x (0, 0, 1)
  line L0 (25, 16) -> (25, 7.7184) projected
  line L1 (25, 13.7944) -> (26, 13.7944)
  line L2 (26, 13.7944) -> (26, 14.7944)
  line L3 (26, 14.7944) -> (25, 14.7944)
  line L4 (25, 14.7944) -> (25, 13.7944)
  point P0 (3, 15)
  dimension "d181" = 1
  dimension "d182" = 1
extrude "Extrusion33" add sketch "Sketch29" along normal mid plane 4
properties part number "sampleholder6"
